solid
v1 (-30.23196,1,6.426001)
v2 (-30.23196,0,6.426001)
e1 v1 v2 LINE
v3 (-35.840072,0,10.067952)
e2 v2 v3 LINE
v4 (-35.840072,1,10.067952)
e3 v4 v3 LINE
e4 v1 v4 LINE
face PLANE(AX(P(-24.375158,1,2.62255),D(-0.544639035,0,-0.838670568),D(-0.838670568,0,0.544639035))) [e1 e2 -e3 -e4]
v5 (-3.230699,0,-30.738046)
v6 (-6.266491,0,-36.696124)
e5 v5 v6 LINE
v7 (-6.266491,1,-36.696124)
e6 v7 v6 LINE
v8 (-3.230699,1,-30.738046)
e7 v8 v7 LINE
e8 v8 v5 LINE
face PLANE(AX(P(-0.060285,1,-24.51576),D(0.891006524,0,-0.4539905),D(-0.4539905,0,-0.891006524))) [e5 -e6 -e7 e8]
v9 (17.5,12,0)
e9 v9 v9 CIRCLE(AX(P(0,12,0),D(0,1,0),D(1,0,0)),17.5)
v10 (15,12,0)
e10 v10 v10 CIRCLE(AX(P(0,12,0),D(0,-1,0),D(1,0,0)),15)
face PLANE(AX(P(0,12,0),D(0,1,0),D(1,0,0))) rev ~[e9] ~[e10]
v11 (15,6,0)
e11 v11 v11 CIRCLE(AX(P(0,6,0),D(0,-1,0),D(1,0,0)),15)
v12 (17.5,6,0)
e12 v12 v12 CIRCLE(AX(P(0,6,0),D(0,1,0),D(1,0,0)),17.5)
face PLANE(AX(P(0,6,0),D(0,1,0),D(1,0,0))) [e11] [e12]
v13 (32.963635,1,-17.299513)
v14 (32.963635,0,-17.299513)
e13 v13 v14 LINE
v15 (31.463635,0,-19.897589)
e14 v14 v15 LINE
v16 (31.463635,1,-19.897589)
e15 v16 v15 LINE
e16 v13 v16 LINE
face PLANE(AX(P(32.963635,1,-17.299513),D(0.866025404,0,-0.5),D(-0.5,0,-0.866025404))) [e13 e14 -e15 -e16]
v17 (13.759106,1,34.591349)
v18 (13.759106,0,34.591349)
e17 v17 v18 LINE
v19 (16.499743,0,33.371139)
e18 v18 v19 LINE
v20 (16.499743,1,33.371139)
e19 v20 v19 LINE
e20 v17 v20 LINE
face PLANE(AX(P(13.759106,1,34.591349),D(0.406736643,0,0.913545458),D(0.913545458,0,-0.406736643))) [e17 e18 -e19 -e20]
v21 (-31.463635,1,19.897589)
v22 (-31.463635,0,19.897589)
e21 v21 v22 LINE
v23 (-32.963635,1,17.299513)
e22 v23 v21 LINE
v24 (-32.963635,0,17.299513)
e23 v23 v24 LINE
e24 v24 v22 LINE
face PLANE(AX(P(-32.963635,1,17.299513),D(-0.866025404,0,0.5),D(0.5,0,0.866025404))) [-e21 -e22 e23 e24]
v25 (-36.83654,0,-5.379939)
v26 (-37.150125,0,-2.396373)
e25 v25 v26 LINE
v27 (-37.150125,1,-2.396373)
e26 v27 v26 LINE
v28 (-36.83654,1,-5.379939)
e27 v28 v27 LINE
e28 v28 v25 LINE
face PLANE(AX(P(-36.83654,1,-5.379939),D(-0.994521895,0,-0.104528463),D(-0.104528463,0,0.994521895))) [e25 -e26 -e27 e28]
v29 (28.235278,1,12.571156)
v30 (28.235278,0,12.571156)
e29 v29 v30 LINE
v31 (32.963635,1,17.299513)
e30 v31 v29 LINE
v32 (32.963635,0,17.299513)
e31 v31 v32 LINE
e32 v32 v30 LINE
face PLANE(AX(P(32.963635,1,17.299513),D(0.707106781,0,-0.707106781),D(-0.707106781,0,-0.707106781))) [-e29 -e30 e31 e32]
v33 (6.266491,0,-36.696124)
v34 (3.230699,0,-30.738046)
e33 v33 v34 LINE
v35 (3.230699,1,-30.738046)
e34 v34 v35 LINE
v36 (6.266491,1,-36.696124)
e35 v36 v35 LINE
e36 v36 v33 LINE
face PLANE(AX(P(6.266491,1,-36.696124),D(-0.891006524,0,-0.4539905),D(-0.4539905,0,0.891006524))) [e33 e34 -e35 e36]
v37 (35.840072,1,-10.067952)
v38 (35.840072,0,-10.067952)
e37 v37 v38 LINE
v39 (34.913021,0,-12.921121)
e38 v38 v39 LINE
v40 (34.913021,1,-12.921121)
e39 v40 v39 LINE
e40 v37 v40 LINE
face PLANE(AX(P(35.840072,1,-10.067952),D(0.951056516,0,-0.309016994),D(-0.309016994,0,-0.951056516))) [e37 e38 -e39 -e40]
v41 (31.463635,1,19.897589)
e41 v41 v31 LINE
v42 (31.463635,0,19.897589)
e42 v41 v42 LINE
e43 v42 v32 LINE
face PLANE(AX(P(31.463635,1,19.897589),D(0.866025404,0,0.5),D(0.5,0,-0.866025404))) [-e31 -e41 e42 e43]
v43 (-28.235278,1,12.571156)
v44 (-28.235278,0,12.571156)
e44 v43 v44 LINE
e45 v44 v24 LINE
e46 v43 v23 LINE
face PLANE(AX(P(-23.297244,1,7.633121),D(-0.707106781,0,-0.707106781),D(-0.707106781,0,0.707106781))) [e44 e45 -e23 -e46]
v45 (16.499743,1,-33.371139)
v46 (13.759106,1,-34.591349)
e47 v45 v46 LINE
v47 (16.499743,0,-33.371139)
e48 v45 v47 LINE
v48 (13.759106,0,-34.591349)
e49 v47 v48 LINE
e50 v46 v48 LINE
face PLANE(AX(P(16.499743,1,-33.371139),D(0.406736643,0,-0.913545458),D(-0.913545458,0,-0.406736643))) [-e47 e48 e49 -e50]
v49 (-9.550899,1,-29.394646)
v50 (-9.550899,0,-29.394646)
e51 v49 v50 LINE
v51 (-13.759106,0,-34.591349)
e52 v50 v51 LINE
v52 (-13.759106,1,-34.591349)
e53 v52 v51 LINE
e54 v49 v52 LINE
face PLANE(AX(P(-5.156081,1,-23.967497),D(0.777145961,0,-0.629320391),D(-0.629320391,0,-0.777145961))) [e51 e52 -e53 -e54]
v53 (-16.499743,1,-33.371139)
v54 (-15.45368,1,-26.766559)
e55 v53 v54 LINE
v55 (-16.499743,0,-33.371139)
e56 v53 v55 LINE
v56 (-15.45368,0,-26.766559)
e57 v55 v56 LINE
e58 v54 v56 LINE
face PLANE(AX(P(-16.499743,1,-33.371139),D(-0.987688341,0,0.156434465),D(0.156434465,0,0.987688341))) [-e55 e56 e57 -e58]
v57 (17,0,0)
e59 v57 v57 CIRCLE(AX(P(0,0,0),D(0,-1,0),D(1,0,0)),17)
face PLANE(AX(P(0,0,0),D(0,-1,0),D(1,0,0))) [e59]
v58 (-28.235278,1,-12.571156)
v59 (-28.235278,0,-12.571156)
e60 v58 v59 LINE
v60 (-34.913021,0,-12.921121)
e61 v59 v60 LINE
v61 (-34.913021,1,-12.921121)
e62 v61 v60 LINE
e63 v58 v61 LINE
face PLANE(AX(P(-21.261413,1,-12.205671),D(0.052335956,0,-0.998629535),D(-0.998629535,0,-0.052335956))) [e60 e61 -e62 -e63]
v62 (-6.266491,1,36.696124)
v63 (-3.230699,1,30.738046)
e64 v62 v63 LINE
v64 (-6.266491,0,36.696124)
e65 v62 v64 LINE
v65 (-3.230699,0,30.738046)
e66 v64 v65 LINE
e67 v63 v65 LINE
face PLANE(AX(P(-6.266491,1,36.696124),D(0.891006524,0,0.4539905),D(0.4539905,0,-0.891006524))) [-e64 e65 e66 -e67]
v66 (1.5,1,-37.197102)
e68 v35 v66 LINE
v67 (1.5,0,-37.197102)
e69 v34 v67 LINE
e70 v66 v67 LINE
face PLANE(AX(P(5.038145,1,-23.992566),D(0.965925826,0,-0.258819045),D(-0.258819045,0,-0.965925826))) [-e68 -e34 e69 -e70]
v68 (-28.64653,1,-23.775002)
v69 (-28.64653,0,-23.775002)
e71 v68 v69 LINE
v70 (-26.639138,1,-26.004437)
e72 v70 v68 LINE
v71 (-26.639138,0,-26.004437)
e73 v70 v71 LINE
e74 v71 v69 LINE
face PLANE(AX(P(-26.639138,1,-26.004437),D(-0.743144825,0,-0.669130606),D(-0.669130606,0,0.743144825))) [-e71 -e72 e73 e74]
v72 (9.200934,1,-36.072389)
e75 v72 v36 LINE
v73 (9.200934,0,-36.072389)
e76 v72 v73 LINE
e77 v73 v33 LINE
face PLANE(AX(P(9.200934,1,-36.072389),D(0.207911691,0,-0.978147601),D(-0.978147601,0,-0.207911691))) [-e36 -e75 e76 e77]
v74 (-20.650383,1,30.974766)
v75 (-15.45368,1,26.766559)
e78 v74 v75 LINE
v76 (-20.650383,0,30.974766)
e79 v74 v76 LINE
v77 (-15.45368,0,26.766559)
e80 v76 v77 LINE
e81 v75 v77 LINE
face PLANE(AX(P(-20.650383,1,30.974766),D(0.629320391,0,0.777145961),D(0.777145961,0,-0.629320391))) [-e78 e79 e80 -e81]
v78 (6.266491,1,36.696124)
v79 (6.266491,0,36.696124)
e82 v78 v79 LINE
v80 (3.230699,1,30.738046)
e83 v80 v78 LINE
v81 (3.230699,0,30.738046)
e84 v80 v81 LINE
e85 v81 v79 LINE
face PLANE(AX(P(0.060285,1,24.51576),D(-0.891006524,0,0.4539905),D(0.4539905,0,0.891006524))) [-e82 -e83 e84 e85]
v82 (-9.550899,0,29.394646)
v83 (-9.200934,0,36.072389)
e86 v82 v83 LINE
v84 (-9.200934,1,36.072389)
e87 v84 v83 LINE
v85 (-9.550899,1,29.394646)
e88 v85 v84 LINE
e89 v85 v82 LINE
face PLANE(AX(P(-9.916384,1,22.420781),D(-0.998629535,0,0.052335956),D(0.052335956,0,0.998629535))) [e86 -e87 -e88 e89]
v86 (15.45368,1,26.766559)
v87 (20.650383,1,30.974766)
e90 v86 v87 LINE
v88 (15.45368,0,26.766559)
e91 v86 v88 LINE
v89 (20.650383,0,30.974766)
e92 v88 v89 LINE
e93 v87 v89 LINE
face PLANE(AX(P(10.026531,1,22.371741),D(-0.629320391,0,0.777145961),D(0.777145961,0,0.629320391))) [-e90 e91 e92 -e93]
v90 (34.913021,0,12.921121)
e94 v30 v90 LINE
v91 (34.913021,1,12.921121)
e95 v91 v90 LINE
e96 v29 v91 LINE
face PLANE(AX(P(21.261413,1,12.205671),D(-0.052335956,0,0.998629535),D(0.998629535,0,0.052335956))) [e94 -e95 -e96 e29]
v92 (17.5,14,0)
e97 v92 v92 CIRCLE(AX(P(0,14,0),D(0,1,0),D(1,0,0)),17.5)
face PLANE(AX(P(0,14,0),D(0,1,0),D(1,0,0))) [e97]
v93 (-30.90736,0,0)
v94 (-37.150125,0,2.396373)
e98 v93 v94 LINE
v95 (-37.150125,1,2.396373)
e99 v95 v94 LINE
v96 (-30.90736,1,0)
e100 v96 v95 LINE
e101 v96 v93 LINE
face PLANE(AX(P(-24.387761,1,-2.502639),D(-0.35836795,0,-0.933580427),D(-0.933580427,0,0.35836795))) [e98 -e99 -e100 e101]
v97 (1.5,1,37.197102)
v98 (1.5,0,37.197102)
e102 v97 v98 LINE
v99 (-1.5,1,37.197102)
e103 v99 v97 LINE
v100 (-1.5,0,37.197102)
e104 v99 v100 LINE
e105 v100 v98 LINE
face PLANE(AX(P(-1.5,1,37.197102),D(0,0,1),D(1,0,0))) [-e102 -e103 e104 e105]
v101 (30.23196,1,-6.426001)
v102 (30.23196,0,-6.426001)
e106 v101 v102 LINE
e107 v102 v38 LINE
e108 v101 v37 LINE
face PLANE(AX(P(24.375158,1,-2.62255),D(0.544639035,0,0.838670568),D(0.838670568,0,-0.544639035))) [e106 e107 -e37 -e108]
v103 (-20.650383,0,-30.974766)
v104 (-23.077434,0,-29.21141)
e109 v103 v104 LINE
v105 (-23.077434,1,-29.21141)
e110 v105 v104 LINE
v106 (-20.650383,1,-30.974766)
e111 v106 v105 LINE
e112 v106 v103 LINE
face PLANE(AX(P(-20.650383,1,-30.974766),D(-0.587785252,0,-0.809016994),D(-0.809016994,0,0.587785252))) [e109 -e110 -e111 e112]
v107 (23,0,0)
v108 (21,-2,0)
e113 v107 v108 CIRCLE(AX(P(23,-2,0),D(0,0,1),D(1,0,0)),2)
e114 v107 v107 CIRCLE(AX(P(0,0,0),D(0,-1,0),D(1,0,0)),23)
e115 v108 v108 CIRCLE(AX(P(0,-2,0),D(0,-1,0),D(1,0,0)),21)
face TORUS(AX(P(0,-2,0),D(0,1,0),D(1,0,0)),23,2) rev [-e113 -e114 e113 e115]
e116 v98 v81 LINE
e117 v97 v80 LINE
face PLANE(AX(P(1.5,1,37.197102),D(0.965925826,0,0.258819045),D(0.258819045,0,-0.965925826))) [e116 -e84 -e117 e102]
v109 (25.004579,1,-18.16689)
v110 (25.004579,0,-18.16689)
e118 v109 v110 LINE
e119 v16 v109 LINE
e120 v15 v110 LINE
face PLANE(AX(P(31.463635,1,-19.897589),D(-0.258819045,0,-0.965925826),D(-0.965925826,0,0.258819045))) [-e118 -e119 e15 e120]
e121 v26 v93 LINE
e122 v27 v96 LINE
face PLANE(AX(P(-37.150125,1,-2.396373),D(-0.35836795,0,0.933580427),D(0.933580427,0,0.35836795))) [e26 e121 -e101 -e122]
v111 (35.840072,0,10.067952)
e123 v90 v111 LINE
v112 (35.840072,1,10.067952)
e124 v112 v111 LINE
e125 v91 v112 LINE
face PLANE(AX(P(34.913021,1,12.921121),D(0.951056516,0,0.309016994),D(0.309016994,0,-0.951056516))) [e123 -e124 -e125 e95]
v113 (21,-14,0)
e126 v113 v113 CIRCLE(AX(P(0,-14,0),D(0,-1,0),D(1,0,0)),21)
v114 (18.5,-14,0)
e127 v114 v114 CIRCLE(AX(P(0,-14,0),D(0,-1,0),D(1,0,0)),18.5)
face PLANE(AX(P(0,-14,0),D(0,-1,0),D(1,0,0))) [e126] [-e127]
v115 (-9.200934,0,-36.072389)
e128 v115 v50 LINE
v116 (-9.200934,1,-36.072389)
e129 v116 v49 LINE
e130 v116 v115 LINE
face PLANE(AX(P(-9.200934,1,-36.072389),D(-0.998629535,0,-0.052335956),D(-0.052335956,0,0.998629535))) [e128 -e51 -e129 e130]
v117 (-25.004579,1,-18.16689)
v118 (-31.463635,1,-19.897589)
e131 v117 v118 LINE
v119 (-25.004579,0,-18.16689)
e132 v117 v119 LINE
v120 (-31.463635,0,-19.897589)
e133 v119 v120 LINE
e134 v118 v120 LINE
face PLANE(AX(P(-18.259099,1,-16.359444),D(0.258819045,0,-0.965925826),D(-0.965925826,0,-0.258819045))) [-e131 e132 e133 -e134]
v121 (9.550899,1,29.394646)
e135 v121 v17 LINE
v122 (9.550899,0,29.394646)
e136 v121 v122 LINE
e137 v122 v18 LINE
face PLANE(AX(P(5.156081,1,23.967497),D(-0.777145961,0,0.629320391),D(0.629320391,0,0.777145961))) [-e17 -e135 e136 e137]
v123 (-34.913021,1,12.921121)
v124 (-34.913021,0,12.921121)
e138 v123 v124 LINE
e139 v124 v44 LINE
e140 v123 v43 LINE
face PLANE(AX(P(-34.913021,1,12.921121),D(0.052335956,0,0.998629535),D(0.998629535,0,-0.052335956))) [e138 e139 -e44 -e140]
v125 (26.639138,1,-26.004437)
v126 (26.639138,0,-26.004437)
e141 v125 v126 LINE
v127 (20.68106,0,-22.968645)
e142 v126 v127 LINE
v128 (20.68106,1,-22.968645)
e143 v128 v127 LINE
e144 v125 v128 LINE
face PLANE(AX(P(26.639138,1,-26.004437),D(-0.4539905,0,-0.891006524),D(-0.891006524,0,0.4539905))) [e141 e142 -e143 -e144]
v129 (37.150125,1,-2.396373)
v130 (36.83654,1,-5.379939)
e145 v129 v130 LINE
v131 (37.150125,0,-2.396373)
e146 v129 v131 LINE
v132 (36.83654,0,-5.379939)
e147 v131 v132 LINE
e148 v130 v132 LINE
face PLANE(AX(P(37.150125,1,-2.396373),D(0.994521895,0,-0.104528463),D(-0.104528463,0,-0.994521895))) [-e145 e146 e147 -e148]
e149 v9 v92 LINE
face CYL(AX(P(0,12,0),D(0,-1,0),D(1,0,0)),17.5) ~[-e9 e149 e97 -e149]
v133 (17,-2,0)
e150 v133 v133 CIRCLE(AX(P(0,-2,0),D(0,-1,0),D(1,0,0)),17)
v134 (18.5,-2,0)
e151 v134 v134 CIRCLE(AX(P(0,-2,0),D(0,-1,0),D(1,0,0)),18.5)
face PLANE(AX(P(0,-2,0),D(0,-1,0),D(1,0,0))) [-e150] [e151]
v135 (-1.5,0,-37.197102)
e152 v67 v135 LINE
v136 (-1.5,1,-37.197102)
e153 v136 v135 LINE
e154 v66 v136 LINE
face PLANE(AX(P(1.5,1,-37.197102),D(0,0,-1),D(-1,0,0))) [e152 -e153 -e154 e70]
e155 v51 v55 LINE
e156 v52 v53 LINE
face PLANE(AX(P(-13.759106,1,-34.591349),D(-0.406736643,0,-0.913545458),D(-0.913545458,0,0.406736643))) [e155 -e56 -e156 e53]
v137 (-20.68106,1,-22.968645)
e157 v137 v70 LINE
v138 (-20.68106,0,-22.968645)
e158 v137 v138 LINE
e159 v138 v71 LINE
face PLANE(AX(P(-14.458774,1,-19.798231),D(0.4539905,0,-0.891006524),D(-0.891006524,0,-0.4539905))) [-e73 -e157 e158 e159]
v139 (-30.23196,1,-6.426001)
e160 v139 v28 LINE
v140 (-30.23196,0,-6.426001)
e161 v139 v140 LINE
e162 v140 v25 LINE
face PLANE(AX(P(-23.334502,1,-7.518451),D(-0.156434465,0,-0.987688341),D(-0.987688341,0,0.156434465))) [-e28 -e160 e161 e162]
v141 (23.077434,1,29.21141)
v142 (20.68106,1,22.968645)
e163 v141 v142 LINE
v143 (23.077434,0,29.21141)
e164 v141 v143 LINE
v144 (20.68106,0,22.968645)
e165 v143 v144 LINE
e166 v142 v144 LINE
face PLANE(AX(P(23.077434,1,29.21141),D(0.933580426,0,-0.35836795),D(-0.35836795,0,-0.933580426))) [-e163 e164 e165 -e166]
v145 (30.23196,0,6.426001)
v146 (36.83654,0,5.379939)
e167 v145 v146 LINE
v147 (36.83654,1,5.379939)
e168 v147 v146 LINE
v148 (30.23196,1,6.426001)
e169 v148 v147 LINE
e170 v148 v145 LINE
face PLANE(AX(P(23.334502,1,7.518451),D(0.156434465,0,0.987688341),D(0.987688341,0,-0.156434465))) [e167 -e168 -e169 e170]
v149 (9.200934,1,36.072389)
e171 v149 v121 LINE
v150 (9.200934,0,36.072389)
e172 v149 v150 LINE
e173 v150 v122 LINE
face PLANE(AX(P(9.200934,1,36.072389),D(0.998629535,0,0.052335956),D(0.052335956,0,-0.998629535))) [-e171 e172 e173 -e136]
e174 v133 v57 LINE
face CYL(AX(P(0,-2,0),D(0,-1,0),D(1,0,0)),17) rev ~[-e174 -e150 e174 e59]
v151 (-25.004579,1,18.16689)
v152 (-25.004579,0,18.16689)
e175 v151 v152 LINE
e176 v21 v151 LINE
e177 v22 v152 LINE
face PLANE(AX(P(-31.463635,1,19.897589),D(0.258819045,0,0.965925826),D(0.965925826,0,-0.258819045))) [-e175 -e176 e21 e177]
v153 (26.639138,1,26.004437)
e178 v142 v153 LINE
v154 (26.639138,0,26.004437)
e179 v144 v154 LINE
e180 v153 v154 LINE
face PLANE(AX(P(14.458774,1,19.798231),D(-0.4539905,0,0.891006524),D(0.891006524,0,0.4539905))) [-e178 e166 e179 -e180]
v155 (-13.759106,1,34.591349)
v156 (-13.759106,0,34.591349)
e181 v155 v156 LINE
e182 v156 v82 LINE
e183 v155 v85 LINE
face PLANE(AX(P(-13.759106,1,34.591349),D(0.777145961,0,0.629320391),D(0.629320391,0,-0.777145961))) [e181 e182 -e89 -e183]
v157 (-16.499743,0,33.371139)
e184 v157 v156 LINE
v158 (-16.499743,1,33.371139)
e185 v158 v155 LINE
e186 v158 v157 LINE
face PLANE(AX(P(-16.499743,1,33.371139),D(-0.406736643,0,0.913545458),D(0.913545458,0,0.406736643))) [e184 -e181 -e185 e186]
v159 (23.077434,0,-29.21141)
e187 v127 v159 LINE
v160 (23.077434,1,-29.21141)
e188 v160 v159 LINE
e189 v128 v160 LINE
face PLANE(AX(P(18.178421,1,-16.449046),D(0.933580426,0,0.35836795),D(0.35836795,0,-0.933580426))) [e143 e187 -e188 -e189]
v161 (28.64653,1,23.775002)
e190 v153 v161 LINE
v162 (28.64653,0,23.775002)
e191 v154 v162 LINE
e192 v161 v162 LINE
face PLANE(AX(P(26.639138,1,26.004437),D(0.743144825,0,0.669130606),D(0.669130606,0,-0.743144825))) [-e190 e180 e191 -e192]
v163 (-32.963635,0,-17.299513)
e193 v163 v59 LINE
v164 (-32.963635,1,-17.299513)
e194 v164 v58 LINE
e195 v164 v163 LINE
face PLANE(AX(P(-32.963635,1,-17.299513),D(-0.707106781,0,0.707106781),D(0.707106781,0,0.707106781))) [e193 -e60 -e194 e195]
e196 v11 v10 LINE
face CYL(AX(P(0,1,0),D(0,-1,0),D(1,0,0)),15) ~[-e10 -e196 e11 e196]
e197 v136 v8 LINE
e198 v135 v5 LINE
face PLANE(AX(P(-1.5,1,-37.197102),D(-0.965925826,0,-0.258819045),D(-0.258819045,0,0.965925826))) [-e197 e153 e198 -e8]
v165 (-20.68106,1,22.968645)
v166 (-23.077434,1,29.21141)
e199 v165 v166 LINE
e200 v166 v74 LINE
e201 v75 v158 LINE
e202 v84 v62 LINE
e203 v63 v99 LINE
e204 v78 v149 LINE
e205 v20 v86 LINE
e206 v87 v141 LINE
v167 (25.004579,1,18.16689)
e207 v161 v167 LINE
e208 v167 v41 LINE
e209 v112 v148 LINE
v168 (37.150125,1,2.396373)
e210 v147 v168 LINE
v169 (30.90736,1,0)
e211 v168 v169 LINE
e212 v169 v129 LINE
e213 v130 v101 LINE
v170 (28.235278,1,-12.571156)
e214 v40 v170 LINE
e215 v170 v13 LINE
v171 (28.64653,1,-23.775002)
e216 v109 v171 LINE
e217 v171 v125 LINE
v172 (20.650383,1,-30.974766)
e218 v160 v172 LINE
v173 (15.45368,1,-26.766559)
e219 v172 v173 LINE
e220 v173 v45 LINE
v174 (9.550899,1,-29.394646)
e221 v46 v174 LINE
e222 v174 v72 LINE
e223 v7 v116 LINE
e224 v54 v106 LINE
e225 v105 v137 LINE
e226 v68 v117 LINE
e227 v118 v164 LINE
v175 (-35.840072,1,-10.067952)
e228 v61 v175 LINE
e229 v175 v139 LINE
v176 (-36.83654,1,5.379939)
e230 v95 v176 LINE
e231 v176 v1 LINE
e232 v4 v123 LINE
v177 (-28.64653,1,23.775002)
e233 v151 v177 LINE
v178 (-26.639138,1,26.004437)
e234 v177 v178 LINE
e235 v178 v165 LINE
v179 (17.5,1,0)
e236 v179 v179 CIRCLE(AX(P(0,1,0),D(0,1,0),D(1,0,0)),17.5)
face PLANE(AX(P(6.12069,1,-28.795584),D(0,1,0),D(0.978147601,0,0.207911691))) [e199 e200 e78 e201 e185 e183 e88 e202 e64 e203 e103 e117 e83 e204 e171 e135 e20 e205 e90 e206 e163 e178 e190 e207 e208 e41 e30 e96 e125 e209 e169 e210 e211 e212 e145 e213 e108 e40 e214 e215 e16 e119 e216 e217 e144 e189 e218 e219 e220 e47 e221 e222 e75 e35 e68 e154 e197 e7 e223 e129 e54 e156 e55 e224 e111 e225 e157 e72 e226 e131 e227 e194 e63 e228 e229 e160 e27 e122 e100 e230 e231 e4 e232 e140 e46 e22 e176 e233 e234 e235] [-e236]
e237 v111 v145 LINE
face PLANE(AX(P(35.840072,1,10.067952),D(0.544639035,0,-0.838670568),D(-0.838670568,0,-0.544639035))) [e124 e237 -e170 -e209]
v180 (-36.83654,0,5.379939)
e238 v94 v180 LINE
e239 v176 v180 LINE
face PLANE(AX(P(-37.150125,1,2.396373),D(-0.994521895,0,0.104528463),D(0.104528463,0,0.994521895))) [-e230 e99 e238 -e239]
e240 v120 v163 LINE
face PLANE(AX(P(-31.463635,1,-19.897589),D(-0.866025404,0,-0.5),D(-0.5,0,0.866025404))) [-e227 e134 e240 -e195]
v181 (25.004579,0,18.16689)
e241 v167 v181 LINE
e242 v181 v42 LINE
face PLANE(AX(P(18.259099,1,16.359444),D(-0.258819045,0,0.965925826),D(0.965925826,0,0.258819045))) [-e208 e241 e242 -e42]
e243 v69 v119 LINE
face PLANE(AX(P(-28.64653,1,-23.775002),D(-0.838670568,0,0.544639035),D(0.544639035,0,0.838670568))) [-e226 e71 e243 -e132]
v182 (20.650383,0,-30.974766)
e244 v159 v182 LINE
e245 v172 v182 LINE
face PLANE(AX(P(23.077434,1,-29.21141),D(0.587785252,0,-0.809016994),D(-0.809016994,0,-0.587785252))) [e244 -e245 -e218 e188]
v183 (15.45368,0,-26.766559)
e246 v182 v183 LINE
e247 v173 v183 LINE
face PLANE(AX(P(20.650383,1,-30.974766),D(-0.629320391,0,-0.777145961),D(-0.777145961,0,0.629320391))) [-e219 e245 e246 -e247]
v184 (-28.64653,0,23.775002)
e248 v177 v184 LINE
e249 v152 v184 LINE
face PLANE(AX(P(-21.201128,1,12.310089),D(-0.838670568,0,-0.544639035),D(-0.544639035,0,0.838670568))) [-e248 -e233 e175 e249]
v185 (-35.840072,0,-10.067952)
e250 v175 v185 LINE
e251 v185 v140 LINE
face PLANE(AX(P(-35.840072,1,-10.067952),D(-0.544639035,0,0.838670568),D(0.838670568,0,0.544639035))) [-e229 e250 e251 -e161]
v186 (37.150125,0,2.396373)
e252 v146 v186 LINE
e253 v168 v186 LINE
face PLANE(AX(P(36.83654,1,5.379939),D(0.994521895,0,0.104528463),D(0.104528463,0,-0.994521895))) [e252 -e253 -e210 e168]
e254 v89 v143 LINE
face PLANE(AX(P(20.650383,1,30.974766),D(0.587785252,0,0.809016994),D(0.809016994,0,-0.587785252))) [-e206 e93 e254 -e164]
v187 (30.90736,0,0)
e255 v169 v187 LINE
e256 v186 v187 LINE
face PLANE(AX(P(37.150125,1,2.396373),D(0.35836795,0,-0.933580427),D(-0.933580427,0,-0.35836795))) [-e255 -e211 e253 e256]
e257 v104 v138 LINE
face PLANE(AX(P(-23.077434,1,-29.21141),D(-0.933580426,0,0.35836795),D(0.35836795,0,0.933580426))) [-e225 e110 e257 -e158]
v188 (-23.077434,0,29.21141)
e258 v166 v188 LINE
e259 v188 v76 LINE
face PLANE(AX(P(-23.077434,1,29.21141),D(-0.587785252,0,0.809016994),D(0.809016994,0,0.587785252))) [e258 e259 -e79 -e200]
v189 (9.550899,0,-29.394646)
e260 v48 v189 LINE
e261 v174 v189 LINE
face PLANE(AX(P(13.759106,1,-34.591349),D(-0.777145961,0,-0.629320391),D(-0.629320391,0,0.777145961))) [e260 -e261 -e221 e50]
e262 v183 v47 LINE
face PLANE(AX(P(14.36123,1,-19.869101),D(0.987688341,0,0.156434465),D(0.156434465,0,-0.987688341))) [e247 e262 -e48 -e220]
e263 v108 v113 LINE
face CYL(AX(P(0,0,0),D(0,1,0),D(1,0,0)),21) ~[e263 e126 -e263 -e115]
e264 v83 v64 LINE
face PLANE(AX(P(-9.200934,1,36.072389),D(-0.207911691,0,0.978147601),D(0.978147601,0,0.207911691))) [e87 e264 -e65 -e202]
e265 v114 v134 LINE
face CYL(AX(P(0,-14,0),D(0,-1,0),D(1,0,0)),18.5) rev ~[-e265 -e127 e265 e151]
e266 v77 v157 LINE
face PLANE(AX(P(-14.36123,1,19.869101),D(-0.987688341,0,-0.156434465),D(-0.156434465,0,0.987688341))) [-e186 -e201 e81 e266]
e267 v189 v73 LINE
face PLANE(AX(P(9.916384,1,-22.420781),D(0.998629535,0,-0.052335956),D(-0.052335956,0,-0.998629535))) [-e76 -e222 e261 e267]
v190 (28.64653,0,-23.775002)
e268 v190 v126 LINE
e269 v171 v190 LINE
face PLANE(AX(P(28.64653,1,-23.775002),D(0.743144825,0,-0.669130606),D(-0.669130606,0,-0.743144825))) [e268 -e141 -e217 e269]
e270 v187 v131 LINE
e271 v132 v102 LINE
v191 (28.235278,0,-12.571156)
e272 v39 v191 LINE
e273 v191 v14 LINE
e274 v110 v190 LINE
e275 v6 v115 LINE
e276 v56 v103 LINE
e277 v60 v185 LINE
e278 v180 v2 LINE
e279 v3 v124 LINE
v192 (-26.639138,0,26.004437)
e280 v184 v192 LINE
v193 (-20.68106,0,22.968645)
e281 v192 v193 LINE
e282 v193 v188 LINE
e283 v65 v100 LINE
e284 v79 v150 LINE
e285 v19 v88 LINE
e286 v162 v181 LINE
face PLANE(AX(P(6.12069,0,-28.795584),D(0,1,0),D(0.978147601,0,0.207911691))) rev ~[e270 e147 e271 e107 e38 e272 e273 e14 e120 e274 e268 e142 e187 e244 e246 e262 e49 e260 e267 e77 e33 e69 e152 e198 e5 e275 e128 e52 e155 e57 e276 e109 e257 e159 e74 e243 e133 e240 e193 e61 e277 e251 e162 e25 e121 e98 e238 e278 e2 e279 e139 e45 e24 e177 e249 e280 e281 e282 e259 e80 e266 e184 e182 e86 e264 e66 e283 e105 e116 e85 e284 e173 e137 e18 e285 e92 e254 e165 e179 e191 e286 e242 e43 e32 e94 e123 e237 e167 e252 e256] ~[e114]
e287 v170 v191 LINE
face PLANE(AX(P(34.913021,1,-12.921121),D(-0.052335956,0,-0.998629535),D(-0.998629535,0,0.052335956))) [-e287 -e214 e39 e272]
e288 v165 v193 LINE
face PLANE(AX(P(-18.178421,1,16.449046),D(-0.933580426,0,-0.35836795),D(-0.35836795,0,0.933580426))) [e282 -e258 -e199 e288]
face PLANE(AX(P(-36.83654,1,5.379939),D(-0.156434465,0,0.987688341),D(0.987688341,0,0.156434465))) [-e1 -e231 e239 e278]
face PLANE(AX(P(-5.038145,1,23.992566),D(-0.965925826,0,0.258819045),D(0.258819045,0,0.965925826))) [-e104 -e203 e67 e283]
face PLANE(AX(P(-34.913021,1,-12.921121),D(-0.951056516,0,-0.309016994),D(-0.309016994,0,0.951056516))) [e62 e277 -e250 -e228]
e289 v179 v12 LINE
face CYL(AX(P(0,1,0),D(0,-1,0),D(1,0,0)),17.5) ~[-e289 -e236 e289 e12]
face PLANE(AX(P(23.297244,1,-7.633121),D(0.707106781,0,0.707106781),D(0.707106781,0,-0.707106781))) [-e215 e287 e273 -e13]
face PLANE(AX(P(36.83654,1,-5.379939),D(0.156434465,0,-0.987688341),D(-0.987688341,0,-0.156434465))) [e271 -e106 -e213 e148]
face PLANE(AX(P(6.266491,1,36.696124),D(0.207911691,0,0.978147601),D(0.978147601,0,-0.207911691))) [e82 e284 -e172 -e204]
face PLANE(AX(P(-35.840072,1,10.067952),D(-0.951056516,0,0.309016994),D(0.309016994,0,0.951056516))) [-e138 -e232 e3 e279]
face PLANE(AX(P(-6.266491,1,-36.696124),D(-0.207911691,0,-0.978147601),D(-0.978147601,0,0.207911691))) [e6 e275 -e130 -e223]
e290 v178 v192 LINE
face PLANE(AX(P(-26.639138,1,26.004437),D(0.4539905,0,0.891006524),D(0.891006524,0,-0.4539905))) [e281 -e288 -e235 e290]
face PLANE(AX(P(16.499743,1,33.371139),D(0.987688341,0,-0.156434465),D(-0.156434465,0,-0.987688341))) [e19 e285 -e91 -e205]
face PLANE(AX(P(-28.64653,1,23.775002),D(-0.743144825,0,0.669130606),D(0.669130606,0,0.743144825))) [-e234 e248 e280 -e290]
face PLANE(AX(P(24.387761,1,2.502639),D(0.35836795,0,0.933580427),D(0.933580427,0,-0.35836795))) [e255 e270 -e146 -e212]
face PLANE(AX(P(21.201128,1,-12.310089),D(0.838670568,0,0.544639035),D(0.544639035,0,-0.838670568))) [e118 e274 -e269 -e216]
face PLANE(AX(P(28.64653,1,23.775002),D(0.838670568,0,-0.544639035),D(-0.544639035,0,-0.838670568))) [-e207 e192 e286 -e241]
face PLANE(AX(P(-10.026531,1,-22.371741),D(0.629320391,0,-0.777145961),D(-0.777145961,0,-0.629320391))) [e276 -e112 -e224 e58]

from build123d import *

# Parameters (mm, degrees)
SKETCH1_R                        = 30
TANDHJUL_MAINBODY_DEPTH          = 1
SKETCH2_R                        = 15
TANDHJUL_FISKELINIE_DEPTH        = 20
SKETCH3_R                        = 17.5
TANDHJUL_FISKELINIESTOPPER_DEPTH = 1
T_NDER_DEPTH                     = 1
T_NDERPATTERN_COUNT              = 30
SKETCH11_R                       = 17.5
BOSS_EXTRUDE1_DEPTH              = 5
SKETCH12_R                       = 21
BOSS_EXTRUDE2_DEPTH              = 14
FILLET1_R                        = 2
SKETCH13_R                       = 18.5
CUT_EXTRUDE1_DEPTH               = 12
SKETCH14_R                       = 17
CUT_EXTRUDE2_DEPTH               = 2
SKETCH15_R                       = 23.679719335
CUT_EXTRUDE3_DEPTH               = 10
SKETCH18_R                       = 17.5
BOSS_EXTRUDE3_DEPTH              = 2


with BuildPart() as part:
    # Sketch1 → Tandhjul mainBody (new body)
    with BuildSketch(Plane(origin=(0, 0, 0), x_dir=(1, 0, 0), z_dir=(0, 1, 0))):
        Circle(SKETCH1_R)
    extrude(amount=TANDHJUL_MAINBODY_DEPTH)

    # Sketch2 → Tandhjul fiskelinie (add)
    with BuildSketch(Plane(origin=(0, 1, 0), x_dir=(1, 0, 0), z_dir=(0, 1, 0))):
        Circle(SKETCH2_R)
    extrude(amount=TANDHJUL_FISKELINIE_DEPTH)

    # Sketch3 → Tandhjul fiskelinieStopper (add)
    with BuildSketch(Plane(origin=(0, 21, 0), x_dir=(1, 0, 0), z_dir=(0, 1, 0))):
        Circle(SKETCH3_R)
    extrude(amount=TANDHJUL_FISKELINIESTOPPER_DEPTH)

    # Sketch9 → Tænder (add)
    with BuildSketch(Plane(origin=(0, 1, 0), x_dir=(1, 0, 0), z_dir=(0, 1, 0))):
        Polygon((-1.5, 37.197102186), (-5.038144939, 23.992565508), (0, 23.992565508), (5.038144939, 23.992565508), (1.5, 37.197102186), align=None)
    t_nder = extrude(amount=-T_NDER_DEPTH)

    # TænderPattern: Tænder ×30 about axis
    t_nderpattern_axis = Axis((0, 0, 0), (0, 1, 0))
    for i in range(1, T_NDERPATTERN_COUNT):
        add(t_nder.rotate(t_nderpattern_axis, i * 360 / T_NDERPATTERN_COUNT))

    # Sketch11 → Boss-Extrude1 (add)
    with BuildSketch(Plane(origin=(0, 1, 0), x_dir=(1, 0, 0), z_dir=(0, 1, 0))):
        Circle(SKETCH11_R)
    extrude(amount=BOSS_EXTRUDE1_DEPTH)

    # Sketch12 → Boss-Extrude2 (add)
    with BuildSketch(Plane.XZ):
        Circle(SKETCH12_R)
    extrude(amount=BOSS_EXTRUDE2_DEPTH)

    # Fillet1
    fillet1_edges = [part.edges().sort_by_distance(p)[0] for p in [
        (-21, 0, 0),
    ]]
    fillet(fillet1_edges, radius=FILLET1_R)

    # Sketch13 → Cut-Extrude1 (cut)
    with BuildSketch(Plane.XZ.offset(14)):
        Circle(SKETCH13_R)
    extrude(amount=-CUT_EXTRUDE1_DEPTH, mode=Mode.SUBTRACT)

    # Sketch14 → Cut-Extrude2 (cut)
    with BuildSketch(Plane.XZ.offset(2)):
        Circle(SKETCH14_R)
    extrude(amount=-CUT_EXTRUDE2_DEPTH, mode=Mode.SUBTRACT)

    # Sketch15 → Cut-Extrude3 (cut)
    with BuildSketch(Plane(origin=(0, 22, 0), x_dir=(1, 0, 0), z_dir=(0, 1, 0))):
        with Locations((-1.024461649, -1.098868056)):
            Circle(SKETCH15_R)
    extrude(amount=-CUT_EXTRUDE3_DEPTH, mode=Mode.SUBTRACT)

    # Sketch18 → Boss-Extrude3 (add)
    with BuildSketch(Plane(origin=(0, 12, 0), x_dir=(1, 0, 0), z_dir=(0, 1, 0))):
        Circle(SKETCH18_R)
    extrude(amount=BOSS_EXTRUDE3_DEPTH)


solid = part.part
